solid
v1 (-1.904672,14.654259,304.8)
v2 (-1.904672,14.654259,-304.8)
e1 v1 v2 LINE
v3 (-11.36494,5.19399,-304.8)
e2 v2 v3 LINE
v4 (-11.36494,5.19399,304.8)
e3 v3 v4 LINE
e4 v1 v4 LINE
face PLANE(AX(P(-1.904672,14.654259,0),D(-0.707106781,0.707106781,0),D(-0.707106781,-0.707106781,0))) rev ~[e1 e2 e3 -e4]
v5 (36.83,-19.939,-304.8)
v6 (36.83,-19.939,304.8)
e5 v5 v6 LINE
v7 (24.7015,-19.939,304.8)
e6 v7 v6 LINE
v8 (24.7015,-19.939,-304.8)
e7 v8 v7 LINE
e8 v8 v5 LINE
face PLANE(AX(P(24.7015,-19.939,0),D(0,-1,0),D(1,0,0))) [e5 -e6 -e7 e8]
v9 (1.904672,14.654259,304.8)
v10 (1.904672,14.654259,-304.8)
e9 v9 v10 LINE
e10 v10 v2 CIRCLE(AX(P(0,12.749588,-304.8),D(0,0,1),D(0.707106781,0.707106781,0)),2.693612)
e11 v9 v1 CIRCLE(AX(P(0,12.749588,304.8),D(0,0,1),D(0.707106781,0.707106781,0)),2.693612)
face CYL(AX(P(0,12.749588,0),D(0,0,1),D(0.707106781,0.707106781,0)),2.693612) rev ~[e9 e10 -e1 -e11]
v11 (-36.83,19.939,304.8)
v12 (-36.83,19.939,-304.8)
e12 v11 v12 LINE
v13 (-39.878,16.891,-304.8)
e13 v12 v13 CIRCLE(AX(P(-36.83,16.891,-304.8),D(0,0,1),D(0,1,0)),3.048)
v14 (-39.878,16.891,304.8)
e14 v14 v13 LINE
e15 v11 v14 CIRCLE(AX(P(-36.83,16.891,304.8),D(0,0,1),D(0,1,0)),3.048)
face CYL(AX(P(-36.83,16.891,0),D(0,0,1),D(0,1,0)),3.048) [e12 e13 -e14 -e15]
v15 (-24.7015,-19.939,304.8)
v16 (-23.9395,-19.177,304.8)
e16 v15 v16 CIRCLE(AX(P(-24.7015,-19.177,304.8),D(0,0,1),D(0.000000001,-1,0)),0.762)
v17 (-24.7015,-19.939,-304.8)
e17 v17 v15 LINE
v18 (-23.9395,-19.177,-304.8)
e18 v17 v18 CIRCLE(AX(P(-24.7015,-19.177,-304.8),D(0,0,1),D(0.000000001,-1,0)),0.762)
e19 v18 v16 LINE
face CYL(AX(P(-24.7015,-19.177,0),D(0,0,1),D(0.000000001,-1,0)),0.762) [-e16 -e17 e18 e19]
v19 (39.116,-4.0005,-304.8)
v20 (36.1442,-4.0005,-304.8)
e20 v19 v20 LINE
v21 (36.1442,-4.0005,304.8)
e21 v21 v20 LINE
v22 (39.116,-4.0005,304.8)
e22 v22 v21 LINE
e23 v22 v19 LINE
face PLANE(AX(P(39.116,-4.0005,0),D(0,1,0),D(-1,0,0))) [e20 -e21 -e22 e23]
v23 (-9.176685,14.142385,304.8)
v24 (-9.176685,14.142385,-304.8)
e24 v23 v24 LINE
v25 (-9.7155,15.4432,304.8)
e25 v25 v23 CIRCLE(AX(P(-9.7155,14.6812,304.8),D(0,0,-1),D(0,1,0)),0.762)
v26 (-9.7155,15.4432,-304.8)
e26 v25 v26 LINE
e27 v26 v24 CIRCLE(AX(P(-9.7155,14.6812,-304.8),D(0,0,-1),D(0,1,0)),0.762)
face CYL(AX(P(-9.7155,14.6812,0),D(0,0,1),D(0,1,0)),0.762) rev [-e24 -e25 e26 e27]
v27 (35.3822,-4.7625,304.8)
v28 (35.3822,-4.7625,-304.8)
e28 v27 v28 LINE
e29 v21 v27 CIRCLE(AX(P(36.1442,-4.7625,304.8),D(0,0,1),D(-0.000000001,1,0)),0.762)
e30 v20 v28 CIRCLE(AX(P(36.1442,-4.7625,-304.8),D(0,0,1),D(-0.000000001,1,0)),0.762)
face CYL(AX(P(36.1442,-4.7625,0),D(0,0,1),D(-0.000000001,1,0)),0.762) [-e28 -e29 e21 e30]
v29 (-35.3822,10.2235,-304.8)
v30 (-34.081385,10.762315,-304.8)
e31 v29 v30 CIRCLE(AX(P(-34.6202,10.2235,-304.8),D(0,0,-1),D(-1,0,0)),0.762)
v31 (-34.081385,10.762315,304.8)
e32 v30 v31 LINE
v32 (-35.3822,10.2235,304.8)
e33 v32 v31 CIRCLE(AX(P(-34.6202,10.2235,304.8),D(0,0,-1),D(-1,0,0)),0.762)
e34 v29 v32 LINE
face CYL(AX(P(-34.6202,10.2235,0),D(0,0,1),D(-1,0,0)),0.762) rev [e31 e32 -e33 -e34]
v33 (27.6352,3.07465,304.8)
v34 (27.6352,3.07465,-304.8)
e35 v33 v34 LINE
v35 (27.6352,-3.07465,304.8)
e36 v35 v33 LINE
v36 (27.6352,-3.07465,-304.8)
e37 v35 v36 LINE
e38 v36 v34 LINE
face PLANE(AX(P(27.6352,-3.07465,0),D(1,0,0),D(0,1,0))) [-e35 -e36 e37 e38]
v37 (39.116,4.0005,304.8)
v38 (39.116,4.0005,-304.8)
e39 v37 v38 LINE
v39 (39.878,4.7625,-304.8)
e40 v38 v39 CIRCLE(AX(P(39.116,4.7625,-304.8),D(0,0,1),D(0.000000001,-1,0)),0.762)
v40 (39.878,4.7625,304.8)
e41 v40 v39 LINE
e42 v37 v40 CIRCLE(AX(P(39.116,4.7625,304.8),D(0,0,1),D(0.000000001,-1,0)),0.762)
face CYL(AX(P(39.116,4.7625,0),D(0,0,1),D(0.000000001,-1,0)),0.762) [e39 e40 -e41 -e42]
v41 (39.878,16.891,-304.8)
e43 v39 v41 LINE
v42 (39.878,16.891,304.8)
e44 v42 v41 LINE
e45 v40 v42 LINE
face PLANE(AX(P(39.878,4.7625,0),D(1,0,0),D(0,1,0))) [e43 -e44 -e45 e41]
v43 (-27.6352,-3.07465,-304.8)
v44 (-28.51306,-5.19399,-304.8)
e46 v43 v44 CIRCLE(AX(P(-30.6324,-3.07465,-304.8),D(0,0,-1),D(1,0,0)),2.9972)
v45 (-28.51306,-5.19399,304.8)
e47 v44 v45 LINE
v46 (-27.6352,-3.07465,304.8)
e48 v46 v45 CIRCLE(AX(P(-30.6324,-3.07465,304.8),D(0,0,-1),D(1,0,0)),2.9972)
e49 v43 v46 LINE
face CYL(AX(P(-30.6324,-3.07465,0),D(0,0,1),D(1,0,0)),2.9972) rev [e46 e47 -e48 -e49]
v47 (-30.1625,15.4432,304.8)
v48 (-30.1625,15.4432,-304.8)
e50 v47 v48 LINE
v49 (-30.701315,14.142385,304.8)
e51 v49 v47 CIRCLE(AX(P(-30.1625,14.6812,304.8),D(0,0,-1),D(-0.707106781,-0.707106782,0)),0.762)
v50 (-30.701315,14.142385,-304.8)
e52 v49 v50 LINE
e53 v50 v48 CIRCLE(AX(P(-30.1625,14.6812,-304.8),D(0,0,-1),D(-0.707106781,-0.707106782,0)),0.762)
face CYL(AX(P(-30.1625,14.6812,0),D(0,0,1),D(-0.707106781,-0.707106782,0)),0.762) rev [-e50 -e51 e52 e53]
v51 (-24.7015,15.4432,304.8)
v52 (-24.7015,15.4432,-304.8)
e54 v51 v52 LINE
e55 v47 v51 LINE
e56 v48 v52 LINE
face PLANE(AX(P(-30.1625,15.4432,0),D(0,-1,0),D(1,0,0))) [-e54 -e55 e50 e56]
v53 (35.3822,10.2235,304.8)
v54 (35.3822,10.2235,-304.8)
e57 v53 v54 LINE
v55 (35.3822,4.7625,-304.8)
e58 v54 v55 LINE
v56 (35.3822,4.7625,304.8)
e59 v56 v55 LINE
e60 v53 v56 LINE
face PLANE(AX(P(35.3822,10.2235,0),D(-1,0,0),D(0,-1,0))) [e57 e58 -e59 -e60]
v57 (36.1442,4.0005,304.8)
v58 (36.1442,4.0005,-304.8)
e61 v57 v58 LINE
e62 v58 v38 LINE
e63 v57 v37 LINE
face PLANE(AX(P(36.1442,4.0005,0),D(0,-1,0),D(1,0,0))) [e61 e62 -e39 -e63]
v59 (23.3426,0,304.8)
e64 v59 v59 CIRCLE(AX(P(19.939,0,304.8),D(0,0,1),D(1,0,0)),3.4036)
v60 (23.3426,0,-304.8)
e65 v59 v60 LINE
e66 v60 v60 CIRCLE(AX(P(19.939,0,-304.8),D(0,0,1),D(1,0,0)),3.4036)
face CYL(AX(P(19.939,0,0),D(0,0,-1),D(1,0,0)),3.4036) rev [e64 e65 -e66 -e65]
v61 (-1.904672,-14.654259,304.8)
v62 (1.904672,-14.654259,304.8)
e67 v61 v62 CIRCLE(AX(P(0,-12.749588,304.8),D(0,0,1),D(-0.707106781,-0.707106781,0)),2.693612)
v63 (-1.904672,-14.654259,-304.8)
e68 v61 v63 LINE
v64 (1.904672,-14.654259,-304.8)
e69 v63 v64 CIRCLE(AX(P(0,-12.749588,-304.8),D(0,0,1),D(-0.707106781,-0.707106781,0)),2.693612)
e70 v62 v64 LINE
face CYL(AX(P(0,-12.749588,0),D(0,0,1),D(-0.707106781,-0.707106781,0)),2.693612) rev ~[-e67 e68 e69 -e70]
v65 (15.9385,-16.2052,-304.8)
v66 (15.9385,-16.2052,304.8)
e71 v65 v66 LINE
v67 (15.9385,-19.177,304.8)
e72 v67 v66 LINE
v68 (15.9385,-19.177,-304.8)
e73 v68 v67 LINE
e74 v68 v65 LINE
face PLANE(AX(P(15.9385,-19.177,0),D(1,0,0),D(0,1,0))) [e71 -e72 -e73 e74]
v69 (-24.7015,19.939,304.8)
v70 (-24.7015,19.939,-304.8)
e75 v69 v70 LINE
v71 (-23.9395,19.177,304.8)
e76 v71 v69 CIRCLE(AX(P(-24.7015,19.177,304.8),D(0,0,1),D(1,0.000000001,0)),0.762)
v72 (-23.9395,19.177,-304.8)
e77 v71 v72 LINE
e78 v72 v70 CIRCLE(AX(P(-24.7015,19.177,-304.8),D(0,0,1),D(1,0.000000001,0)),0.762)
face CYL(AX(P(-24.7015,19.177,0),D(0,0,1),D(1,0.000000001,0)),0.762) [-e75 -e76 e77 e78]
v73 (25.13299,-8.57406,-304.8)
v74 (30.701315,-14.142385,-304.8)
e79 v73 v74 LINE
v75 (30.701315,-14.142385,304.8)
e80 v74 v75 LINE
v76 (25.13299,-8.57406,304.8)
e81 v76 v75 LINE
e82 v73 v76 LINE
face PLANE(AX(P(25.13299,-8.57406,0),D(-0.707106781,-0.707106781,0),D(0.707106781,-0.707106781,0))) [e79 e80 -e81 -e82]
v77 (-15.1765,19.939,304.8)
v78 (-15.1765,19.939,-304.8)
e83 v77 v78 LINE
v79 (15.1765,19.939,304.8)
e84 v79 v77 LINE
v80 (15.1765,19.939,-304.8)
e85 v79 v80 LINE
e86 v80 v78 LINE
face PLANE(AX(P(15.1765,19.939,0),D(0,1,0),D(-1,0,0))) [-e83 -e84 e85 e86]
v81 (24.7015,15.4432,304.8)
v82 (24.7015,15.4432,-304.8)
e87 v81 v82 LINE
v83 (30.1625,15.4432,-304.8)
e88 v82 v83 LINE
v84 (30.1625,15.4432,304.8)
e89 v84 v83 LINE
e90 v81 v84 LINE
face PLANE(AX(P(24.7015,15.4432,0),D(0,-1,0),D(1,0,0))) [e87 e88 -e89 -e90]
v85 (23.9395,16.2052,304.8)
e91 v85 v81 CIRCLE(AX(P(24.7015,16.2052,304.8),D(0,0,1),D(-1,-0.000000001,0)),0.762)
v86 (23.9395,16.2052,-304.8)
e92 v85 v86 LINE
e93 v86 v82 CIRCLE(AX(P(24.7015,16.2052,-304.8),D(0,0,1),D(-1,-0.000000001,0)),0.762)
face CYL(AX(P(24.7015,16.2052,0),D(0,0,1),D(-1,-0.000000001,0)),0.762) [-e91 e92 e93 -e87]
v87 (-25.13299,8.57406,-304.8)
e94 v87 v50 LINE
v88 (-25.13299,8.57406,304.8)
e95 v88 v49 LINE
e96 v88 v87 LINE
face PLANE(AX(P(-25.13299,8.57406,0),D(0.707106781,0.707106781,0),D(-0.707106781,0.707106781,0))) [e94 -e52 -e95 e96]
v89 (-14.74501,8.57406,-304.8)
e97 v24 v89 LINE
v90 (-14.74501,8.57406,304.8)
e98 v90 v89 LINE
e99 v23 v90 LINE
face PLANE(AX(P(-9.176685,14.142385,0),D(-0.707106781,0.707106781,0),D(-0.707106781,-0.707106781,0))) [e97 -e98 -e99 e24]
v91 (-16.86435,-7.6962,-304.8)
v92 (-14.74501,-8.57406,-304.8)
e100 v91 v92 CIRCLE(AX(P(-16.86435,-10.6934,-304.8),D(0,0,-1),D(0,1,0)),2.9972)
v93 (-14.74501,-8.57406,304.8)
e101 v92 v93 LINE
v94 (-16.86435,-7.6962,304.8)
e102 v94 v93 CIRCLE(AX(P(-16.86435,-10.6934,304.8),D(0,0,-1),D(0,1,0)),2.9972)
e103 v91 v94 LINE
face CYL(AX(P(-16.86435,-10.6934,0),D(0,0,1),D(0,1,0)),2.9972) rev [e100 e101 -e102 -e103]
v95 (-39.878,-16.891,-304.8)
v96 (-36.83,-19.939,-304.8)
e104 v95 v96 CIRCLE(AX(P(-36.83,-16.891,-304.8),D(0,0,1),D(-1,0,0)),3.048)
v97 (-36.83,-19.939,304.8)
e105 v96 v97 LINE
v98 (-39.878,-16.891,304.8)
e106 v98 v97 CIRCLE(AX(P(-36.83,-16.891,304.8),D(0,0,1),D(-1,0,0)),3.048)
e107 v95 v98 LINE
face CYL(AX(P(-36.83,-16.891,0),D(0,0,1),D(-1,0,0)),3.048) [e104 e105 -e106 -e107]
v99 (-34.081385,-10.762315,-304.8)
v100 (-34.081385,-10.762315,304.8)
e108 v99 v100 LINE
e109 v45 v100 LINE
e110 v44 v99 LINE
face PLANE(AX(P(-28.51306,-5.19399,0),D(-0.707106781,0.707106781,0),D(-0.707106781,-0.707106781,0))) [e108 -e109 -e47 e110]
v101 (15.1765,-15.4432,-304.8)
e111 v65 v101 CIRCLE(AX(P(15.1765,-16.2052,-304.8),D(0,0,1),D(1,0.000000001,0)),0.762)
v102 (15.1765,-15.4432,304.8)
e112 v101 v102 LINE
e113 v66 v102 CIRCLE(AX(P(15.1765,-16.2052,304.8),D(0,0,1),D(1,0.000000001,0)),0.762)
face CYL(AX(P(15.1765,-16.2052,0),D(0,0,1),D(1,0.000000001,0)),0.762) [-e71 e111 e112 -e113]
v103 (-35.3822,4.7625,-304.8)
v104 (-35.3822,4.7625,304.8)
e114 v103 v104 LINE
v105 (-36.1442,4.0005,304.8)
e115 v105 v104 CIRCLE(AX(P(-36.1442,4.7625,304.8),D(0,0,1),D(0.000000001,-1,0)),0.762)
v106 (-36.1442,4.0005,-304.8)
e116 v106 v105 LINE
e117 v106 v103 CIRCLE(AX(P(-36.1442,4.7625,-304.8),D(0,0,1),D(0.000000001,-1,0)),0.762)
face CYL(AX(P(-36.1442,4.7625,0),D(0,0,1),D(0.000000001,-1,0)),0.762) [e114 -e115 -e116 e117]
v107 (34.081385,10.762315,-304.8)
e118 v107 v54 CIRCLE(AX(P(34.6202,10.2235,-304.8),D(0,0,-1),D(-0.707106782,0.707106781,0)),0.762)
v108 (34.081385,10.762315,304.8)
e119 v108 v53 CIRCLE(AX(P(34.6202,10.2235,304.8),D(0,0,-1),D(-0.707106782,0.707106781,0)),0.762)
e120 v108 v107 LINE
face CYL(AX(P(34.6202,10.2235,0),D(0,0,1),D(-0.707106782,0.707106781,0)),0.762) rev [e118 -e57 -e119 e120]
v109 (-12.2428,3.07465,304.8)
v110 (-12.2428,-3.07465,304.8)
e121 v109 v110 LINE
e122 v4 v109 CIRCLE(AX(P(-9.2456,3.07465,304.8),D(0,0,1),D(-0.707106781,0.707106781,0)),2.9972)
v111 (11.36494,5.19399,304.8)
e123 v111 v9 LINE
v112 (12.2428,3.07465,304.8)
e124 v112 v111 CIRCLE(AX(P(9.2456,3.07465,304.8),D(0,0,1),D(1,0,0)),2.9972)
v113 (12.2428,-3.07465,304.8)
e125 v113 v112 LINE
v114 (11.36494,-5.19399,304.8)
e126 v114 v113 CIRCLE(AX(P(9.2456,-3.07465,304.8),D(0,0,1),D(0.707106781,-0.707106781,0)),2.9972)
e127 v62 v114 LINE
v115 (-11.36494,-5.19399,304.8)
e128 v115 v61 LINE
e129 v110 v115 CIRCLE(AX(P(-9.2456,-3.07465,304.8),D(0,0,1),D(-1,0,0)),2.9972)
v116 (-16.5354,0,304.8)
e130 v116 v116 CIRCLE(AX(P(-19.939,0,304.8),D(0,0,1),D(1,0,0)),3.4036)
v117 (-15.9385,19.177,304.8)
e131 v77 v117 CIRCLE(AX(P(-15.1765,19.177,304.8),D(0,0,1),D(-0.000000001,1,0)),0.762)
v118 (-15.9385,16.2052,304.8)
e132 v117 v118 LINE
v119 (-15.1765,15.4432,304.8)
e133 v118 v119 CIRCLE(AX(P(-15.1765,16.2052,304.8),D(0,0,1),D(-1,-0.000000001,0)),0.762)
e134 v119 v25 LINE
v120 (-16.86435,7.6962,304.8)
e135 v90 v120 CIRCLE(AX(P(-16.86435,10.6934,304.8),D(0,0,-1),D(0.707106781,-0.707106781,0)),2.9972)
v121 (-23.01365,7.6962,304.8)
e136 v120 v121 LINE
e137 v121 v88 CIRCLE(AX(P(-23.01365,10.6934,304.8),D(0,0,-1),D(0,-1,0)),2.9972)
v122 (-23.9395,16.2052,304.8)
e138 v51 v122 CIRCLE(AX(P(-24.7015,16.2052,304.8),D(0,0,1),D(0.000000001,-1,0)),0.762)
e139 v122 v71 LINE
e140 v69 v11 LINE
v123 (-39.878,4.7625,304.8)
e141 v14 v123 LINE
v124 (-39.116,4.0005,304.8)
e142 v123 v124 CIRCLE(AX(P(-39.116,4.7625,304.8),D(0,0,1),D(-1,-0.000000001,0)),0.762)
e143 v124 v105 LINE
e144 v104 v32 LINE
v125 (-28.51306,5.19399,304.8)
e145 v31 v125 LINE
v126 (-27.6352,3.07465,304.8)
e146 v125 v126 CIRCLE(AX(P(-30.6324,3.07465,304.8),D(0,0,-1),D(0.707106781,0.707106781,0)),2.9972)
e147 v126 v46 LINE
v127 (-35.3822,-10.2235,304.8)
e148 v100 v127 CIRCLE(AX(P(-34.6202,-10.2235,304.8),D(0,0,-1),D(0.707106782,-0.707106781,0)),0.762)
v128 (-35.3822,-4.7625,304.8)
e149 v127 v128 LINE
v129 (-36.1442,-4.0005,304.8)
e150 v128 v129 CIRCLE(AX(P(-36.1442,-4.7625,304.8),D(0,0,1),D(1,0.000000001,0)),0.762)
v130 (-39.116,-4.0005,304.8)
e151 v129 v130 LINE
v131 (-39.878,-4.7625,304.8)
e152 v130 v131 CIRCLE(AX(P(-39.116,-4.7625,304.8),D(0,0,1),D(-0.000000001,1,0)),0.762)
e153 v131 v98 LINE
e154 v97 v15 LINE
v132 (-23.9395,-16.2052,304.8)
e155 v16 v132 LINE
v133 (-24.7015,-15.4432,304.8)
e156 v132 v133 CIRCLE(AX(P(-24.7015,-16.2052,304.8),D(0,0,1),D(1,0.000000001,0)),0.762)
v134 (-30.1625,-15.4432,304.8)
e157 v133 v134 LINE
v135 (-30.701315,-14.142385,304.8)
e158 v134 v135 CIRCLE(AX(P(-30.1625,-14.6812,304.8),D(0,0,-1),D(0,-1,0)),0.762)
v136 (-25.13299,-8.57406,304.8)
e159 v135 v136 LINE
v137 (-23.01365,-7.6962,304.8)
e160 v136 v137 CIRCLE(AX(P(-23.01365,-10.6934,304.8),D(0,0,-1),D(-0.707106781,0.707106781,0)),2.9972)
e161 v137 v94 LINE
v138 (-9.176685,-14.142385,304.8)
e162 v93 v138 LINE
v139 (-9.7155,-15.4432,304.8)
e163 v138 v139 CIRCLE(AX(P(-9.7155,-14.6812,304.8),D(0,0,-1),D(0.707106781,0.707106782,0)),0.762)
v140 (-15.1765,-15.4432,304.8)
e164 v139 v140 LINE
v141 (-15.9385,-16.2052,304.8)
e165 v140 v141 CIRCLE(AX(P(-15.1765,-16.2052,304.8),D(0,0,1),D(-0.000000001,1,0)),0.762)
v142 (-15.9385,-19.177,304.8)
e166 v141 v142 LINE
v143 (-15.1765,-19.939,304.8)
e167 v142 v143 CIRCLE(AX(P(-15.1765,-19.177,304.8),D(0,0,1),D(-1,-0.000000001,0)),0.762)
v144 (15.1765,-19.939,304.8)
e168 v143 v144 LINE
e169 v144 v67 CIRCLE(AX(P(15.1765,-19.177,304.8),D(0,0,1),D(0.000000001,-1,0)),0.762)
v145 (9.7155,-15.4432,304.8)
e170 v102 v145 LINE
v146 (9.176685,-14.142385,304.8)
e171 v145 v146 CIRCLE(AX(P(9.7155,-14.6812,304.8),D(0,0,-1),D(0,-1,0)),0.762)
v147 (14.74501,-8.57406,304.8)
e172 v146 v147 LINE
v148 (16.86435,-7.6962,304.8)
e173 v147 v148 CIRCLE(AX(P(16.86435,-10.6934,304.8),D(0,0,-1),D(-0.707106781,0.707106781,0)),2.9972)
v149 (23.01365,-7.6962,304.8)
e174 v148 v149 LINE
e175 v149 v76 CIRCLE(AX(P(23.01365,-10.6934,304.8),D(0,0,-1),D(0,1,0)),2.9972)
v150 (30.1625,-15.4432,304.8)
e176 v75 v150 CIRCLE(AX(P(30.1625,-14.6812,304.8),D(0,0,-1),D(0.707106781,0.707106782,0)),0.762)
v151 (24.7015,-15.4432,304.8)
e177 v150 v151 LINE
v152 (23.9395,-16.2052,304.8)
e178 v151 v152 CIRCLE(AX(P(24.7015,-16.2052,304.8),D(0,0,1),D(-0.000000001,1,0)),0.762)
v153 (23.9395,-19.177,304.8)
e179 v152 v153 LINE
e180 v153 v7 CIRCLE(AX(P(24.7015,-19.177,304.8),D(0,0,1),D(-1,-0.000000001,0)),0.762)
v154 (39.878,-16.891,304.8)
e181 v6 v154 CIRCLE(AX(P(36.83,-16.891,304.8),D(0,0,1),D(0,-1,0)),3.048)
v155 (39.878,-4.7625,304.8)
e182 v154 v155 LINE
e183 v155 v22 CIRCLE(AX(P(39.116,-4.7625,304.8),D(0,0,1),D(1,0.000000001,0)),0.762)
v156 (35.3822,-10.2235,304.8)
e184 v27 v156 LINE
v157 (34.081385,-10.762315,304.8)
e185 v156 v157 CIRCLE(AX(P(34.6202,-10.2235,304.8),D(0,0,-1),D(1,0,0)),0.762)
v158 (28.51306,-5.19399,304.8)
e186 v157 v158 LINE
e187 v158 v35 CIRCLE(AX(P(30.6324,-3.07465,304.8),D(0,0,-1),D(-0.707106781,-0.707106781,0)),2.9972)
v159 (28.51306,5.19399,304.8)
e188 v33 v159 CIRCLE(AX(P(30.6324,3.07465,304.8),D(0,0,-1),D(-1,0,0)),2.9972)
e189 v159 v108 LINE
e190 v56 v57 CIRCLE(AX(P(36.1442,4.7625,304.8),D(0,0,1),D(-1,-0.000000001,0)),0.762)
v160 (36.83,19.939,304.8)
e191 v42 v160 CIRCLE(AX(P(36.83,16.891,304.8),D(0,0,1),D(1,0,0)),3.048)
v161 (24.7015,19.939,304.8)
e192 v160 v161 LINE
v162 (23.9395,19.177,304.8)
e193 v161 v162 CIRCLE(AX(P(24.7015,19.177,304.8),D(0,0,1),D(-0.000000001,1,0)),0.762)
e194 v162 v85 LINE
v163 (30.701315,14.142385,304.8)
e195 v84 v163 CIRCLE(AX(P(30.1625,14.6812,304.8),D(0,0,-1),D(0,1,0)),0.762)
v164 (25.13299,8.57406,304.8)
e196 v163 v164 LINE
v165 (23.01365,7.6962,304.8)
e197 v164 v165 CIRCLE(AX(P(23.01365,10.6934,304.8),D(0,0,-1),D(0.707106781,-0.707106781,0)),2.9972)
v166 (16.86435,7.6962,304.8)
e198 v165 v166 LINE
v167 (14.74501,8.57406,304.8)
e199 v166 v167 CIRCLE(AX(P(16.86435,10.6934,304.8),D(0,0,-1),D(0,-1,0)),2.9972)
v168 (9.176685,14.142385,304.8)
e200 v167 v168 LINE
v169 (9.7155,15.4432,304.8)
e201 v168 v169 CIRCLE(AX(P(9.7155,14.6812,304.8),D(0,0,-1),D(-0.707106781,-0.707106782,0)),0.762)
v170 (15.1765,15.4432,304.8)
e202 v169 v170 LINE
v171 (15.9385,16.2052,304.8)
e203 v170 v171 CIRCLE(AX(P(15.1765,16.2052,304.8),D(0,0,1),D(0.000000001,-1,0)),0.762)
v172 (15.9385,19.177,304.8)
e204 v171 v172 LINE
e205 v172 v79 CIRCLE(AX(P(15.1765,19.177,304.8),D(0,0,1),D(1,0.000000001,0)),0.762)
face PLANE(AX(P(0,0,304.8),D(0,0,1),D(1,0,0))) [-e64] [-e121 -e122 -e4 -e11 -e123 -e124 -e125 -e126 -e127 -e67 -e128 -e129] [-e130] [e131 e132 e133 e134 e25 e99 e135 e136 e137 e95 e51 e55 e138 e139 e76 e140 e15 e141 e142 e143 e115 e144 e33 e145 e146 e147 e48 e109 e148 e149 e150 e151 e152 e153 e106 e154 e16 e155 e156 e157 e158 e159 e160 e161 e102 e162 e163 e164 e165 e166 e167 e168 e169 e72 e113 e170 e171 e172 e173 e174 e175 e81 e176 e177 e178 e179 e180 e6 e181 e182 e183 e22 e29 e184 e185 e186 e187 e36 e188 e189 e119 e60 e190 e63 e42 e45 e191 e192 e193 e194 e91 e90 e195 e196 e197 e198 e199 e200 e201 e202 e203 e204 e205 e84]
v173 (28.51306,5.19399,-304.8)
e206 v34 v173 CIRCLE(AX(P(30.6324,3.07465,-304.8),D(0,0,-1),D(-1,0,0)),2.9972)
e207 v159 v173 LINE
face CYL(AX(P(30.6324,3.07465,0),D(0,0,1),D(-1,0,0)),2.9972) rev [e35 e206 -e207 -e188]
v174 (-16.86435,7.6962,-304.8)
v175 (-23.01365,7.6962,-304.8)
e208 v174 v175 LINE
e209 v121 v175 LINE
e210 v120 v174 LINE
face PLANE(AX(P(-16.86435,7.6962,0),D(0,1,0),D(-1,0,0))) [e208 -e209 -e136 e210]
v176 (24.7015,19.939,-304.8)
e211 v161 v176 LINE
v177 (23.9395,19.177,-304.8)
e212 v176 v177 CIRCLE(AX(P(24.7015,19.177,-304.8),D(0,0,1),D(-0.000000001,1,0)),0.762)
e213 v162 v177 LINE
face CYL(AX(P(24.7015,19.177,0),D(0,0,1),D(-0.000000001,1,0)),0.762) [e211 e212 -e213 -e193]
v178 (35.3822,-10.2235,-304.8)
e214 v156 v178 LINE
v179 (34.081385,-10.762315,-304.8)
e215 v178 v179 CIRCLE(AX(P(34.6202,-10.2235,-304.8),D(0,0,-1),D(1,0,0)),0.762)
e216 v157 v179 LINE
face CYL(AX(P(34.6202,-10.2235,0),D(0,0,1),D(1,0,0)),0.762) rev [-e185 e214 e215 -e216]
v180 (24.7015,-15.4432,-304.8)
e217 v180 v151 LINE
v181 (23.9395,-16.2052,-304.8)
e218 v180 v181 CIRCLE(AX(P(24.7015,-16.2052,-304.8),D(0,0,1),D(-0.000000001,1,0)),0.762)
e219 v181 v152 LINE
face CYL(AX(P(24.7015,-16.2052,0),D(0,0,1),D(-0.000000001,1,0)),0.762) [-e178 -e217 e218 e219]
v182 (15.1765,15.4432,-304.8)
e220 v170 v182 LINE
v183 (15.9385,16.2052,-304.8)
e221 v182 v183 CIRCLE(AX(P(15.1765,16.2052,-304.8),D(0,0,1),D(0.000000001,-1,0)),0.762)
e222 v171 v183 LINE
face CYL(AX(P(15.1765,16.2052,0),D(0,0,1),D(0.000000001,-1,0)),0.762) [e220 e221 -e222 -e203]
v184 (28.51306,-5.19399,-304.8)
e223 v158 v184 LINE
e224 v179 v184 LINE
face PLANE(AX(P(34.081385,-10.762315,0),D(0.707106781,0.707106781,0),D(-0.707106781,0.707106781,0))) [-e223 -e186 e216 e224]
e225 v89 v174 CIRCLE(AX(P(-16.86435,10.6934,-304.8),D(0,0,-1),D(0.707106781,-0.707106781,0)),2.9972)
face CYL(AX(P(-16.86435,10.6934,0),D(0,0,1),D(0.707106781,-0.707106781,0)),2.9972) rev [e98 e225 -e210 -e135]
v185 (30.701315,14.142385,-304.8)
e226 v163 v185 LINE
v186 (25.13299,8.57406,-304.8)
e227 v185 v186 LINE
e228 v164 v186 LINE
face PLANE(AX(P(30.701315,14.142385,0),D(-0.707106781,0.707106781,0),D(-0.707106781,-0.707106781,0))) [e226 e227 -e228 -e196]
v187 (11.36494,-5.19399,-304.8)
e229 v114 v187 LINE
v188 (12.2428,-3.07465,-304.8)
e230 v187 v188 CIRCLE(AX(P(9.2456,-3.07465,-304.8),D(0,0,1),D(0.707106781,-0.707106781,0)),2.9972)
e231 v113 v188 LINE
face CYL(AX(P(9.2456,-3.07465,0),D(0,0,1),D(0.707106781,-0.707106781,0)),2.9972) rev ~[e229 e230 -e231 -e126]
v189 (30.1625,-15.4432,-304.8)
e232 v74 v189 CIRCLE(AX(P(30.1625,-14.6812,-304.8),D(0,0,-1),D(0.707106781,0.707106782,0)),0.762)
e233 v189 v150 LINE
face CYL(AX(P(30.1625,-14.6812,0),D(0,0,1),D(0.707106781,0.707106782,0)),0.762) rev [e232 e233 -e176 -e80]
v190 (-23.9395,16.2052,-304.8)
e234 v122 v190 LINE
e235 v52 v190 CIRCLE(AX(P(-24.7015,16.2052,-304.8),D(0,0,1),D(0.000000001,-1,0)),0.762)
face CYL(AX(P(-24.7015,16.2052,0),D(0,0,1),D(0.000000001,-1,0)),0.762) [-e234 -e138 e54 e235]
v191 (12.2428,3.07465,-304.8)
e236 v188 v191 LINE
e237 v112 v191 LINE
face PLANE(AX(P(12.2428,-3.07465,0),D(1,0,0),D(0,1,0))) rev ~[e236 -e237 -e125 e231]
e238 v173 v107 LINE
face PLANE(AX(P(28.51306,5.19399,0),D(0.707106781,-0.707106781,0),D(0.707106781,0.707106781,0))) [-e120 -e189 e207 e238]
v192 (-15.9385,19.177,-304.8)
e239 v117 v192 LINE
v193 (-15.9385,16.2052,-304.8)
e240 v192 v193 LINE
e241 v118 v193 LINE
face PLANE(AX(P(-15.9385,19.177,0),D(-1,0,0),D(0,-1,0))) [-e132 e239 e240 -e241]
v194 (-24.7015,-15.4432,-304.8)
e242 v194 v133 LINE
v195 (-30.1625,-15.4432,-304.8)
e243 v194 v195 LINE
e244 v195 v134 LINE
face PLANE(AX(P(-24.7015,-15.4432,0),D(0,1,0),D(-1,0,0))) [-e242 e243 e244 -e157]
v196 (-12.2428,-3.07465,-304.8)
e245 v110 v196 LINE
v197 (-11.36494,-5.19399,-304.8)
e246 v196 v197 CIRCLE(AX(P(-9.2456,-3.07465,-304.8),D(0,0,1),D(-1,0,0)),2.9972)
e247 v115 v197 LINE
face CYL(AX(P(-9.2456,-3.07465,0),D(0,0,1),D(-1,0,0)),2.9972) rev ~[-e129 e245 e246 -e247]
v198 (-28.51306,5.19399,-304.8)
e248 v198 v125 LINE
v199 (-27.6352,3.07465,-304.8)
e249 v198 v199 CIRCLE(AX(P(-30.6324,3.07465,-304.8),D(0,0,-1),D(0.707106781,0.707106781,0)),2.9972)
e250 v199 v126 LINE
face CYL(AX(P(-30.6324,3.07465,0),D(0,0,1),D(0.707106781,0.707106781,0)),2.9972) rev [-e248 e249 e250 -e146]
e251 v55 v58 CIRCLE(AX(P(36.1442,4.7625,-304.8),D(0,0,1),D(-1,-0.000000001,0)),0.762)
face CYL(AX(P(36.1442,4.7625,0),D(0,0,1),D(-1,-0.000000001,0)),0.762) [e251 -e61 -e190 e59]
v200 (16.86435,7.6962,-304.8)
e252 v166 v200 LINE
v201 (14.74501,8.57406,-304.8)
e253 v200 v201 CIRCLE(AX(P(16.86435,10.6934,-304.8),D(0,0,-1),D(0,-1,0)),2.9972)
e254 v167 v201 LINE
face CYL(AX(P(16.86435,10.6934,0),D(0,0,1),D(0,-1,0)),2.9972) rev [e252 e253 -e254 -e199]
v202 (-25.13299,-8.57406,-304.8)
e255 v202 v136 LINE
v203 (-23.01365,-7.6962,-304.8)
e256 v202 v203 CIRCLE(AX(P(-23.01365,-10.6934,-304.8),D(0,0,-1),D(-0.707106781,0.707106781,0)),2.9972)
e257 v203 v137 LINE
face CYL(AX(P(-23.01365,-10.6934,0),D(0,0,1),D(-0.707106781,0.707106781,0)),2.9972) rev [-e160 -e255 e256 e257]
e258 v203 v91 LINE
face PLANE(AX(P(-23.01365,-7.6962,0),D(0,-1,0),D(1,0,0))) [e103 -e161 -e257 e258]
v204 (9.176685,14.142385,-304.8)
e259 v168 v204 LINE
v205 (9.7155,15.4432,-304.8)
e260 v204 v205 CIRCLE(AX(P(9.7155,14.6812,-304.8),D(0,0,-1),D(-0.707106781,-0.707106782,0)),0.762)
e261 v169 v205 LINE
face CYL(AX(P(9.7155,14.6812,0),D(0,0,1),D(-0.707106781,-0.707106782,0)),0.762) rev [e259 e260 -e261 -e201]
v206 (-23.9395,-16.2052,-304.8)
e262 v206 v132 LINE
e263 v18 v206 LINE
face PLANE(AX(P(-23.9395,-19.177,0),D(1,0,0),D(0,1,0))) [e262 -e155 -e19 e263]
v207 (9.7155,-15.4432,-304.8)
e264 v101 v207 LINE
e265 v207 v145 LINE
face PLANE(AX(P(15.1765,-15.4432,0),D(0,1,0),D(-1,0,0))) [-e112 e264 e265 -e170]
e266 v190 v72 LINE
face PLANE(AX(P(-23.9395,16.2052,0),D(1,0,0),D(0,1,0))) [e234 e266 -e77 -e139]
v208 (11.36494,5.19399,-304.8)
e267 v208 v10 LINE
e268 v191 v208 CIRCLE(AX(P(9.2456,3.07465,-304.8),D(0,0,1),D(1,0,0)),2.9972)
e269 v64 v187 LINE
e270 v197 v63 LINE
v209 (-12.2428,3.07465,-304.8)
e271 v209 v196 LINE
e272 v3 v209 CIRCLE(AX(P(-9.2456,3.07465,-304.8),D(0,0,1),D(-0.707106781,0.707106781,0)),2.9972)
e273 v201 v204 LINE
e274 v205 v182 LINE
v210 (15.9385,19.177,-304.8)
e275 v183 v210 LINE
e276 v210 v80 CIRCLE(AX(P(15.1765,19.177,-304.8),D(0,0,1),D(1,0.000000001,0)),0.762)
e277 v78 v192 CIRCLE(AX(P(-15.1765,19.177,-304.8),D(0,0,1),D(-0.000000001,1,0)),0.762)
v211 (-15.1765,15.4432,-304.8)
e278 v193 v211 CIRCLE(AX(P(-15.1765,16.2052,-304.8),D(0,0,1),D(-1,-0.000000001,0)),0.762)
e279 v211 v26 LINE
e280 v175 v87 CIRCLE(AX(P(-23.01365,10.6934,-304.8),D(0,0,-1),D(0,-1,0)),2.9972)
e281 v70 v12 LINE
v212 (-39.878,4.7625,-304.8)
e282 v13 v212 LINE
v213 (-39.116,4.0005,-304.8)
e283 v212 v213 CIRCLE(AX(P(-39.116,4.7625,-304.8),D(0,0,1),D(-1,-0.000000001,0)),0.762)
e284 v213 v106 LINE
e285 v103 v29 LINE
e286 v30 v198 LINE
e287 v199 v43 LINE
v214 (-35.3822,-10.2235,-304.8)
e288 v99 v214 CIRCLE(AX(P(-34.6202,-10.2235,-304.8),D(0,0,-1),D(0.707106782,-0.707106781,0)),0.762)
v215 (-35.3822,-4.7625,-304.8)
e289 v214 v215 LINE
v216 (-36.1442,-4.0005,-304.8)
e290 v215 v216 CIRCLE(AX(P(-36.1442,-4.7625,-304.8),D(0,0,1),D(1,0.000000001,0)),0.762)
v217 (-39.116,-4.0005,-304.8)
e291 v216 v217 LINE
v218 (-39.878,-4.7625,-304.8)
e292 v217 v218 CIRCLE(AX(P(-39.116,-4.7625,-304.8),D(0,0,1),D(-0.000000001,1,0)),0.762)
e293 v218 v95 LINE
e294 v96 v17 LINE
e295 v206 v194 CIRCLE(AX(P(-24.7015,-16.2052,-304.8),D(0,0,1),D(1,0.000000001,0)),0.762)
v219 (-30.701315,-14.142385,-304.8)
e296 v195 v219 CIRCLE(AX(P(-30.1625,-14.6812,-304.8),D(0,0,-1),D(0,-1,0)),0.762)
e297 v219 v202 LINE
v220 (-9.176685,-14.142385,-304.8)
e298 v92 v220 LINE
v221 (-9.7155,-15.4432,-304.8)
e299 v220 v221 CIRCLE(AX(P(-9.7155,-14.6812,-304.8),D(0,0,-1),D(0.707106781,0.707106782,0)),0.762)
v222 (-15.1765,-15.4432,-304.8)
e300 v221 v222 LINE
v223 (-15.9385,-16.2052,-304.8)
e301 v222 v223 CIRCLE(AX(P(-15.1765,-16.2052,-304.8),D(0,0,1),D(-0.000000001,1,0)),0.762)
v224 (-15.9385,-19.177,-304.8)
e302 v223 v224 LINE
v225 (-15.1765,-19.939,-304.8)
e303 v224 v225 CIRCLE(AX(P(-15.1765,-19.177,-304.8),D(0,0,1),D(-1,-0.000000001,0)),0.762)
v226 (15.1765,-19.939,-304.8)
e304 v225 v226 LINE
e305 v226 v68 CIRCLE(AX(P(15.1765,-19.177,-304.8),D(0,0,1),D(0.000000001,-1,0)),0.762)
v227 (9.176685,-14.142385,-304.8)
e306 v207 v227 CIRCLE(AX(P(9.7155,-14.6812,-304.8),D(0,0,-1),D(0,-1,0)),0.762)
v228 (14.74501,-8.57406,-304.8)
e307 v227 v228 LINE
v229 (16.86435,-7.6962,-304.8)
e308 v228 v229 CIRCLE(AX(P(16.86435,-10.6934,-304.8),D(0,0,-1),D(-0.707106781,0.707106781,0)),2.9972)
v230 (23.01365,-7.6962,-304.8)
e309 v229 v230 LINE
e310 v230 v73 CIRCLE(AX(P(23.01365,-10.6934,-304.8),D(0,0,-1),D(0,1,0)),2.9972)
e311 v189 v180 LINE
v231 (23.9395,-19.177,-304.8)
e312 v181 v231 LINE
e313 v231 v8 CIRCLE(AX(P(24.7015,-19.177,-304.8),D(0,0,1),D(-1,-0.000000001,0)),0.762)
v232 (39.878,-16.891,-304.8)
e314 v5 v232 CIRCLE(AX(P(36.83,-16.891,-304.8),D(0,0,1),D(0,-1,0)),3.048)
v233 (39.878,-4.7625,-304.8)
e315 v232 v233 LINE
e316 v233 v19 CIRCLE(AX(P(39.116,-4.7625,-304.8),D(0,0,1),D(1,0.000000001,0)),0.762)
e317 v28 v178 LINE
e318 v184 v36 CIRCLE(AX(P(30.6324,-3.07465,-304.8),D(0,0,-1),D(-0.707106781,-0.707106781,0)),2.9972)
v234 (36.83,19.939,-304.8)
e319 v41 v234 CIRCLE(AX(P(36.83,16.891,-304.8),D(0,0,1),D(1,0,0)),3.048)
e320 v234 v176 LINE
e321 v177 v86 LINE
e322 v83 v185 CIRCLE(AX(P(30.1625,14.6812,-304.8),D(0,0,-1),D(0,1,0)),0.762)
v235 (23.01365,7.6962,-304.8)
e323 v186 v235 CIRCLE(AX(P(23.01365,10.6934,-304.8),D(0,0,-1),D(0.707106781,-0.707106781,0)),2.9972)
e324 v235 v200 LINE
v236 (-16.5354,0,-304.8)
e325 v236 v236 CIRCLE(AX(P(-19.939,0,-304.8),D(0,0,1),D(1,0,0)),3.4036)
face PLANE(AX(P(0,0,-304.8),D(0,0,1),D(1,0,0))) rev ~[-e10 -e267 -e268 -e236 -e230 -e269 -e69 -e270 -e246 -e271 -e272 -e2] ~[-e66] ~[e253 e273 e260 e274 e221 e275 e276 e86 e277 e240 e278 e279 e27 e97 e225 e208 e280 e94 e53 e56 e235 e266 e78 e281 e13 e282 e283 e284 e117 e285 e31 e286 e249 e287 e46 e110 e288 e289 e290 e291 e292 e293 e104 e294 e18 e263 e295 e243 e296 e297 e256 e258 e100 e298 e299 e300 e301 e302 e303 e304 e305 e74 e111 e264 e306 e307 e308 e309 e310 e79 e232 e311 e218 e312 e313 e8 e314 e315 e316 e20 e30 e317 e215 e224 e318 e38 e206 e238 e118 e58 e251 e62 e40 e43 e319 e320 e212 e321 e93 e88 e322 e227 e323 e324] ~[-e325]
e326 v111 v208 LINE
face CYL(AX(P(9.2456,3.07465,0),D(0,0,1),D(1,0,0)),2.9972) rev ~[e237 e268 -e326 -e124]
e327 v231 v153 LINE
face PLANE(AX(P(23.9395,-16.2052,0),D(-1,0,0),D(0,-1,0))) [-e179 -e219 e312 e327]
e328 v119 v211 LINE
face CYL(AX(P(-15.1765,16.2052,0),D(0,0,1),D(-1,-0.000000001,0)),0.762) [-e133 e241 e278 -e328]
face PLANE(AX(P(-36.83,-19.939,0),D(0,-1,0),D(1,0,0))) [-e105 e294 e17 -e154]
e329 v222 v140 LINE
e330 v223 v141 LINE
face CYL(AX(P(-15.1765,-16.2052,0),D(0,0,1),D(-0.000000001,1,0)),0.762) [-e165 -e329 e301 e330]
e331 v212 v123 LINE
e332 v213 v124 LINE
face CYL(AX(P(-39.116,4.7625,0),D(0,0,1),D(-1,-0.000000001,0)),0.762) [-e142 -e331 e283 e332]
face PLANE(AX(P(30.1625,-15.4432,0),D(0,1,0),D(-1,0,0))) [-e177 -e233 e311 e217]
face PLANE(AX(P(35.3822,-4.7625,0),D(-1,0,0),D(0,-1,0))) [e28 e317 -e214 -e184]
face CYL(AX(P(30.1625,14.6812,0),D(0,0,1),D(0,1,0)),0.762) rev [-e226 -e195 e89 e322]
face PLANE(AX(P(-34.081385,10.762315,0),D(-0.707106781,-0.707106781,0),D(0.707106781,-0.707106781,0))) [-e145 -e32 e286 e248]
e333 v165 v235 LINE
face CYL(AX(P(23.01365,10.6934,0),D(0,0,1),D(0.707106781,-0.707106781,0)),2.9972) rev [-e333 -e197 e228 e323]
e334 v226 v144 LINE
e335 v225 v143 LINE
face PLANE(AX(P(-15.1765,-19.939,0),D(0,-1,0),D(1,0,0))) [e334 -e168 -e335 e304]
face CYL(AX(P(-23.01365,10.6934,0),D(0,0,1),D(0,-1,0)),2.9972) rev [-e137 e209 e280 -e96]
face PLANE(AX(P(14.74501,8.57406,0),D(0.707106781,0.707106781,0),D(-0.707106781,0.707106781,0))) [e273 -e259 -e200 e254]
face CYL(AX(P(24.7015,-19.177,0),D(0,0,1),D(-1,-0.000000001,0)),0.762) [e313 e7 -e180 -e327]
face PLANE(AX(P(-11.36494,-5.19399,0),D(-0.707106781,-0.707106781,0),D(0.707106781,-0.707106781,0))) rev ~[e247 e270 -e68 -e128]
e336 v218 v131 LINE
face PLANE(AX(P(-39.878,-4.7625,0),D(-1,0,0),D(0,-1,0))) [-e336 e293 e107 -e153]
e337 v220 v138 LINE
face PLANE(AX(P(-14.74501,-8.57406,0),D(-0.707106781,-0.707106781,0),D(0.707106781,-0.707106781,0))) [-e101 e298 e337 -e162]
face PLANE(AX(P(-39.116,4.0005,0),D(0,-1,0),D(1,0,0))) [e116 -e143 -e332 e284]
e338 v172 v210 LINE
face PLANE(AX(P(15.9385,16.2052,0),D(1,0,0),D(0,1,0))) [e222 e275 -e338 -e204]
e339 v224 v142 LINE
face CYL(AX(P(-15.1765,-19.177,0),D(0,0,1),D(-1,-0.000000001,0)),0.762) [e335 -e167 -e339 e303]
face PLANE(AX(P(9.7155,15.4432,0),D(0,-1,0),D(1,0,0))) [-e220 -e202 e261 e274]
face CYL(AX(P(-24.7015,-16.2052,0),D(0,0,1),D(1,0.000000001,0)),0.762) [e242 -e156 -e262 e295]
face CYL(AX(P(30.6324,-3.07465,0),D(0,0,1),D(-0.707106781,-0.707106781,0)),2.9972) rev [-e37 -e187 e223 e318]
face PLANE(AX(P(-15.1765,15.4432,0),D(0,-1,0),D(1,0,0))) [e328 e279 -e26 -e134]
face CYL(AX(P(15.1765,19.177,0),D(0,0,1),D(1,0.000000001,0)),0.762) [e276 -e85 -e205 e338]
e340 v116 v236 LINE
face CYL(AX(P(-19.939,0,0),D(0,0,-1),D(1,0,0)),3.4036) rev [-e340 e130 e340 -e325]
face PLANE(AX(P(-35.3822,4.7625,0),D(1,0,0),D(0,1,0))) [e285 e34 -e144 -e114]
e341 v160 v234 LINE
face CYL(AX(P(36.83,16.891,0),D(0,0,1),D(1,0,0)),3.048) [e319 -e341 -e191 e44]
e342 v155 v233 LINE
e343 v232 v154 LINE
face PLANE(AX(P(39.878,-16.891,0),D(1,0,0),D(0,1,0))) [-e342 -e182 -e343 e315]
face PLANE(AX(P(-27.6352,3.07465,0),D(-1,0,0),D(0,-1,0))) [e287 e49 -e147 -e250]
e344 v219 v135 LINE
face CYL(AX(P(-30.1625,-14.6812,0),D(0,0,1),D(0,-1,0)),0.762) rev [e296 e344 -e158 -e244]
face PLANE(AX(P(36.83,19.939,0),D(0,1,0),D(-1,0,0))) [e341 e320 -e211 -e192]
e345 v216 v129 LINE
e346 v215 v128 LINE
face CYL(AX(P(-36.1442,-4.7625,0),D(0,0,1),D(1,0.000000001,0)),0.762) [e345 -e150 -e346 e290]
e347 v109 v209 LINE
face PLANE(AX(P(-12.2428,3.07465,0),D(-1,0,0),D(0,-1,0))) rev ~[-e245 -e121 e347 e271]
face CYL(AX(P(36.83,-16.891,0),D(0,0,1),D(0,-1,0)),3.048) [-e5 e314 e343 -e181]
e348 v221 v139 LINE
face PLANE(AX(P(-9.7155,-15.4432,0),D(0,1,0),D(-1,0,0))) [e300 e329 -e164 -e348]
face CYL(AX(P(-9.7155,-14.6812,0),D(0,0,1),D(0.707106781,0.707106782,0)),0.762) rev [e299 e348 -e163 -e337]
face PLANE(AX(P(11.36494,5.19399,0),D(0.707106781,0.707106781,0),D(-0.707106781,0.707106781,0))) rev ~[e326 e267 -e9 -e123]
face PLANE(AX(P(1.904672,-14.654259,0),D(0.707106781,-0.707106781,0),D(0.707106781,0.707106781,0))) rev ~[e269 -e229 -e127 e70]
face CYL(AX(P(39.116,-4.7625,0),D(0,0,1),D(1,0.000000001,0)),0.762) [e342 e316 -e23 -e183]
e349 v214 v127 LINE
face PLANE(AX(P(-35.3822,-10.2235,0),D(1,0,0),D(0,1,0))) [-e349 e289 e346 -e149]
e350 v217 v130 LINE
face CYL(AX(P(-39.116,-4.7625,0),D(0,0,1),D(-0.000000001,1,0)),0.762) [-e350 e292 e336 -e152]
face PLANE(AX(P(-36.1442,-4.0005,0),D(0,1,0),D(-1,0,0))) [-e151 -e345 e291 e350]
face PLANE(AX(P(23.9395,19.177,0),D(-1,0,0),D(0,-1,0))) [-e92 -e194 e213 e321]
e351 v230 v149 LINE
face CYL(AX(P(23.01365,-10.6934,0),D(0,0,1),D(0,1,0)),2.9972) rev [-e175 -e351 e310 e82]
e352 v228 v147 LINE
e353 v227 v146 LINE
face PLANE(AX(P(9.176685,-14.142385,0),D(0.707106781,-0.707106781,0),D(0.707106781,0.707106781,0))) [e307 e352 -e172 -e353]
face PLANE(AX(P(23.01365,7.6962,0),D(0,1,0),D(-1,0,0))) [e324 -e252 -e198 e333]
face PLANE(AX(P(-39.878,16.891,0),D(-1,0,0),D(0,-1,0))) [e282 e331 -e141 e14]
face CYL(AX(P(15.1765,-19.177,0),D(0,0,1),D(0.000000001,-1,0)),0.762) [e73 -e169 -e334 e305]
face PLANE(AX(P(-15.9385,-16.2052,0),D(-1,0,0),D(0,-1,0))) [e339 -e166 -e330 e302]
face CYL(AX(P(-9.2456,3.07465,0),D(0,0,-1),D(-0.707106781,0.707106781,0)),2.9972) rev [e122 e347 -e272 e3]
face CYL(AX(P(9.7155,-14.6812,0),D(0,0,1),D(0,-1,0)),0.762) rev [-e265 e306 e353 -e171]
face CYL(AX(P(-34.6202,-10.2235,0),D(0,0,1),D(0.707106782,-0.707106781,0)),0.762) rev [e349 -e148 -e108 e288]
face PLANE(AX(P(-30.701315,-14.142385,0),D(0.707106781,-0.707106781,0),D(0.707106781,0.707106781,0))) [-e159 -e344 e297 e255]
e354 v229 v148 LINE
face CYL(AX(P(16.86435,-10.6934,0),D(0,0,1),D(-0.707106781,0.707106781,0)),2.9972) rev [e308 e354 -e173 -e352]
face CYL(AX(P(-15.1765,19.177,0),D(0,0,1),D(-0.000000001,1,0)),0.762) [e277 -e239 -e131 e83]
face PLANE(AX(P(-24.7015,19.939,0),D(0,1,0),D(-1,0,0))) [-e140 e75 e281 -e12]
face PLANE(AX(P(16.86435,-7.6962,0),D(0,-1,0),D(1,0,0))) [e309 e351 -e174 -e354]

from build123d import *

# Parameters (mm, degrees)
SKETCH1_R           = 3.4036
BOSS_EXTRUDE1_DEPTH = 304.8


with BuildPart() as part:
    # Sketch1 → Boss-Extrude1 (new body, symmetric)
    with BuildSketch(Plane.XY):
        with BuildLine():
            Line((-39.878, 16.891), (-39.878, 4.7625))
            ThreePointArc((-39.878, 4.7625), (-39.654815367, 4.223684633), (-39.116, 4.0005))
            Line((-39.116, 4.0005), (-36.1442, 4.0005))
            ThreePointArc((-36.1442, 4.0005), (-35.605384633, 4.223684633), (-35.3822, 4.7625))
            Line((-35.3822, 4.7625), (-35.3822, 10.2235))
            ThreePointArc((-35.3822, 10.2235), (-34.911804775, 10.927496204), (-34.081384633, 10.762315367))
            Line((-34.081384633, 10.762315367), (-28.513059555, 5.19399029))
            ThreePointArc((-28.513059555, 5.19399029), (-27.863348265, 4.221628629), (-27.6352, 3.074649845))
            Line((-27.6352, 3.074649845), (-27.6352, -3.074649845))
            ThreePointArc((-27.6352, -3.074649845), (-27.863348265, -4.221628629), (-28.513059555, -5.19399029))
            Line((-28.513059555, -5.19399029), (-34.081384633, -10.762315367))
            ThreePointArc((-34.081384633, -10.762315367), (-34.911804775, -10.927496204), (-35.3822, -10.2235))
            Line((-35.3822, -10.2235), (-35.3822, -4.7625))
            ThreePointArc((-35.3822, -4.7625), (-35.605384633, -4.223684633), (-36.1442, -4.0005))
            Line((-36.1442, -4.0005), (-39.116, -4.0005))
            ThreePointArc((-39.116, -4.0005), (-39.654815367, -4.223684633), (-39.878, -4.7625))
            Line((-39.878, -4.7625), (-39.878, -16.891))
            ThreePointArc((-39.878, -16.891), (-38.985261469, -19.046261469), (-36.83, -19.939))
            Line((-36.83, -19.939), (-24.7015, -19.939))
            ThreePointArc((-24.7015, -19.939), (-24.162684633, -19.715815367), (-23.9395, -19.177))
            Line((-23.9395, -19.177), (-23.9395, -16.2052))
            ThreePointArc((-23.9395, -16.2052), (-24.162684633, -15.666384633), (-24.7015, -15.4432))
            Line((-24.7015, -15.4432), (-30.1625, -15.4432))
            ThreePointArc((-30.1625, -15.4432), (-30.866496204, -14.972804775), (-30.701315367, -14.142384633))
            Line((-30.701315367, -14.142384633), (-25.13299029, -8.574059555))
            ThreePointArc((-25.13299029, -8.574059555), (-24.160628629, -7.924348265), (-23.013649845, -7.6962))
            Line((-23.013649845, -7.6962), (-16.864350155, -7.6962))
            ThreePointArc((-16.864350155, -7.6962), (-15.717371371, -7.924348265), (-14.74500971, -8.574059555))
            Line((-14.74500971, -8.574059555), (-9.176684633, -14.142384633))
            ThreePointArc((-9.176684633, -14.142384633), (-9.011503796, -14.972804775), (-9.7155, -15.4432))
            Line((-9.7155, -15.4432), (-15.1765, -15.4432))
            ThreePointArc((-15.1765, -15.4432), (-15.715315367, -15.666384633), (-15.9385, -16.2052))
            Line((-15.9385, -16.2052), (-15.9385, -19.177))
            ThreePointArc((-15.9385, -19.177), (-15.715315367, -19.715815367), (-15.1765, -19.939))
            Line((-15.1765, -19.939), (15.1765, -19.939))
            ThreePointArc((15.1765, -19.939), (15.715315367, -19.715815367), (15.9385, -19.177))
            Line((15.9385, -19.177), (15.9385, -16.2052))
            ThreePointArc((15.9385, -16.2052), (15.715315367, -15.666384633), (15.1765, -15.4432))
            Line((15.1765, -15.4432), (9.7155, -15.4432))
            ThreePointArc((9.7155, -15.4432), (9.011503796, -14.972804775), (9.176684633, -14.142384633))
            Line((9.176684633, -14.142384633), (14.74500971, -8.574059555))
            ThreePointArc((14.74500971, -8.574059555), (15.717371371, -7.924348265), (16.864350155, -7.6962))
            Line((16.864350155, -7.6962), (23.013649845, -7.6962))
            ThreePointArc((23.013649845, -7.6962), (24.160628629, -7.924348265), (25.13299029, -8.574059555))
            Line((25.13299029, -8.574059555), (30.701315367, -14.142384633))
            ThreePointArc((30.701315367, -14.142384633), (30.866496204, -14.972804775), (30.1625, -15.4432))
            Line((30.1625, -15.4432), (24.7015, -15.4432))
            ThreePointArc((24.7015, -15.4432), (24.162684633, -15.666384633), (23.9395, -16.2052))
            Line((23.9395, -16.2052), (23.9395, -19.177))
            ThreePointArc((23.9395, -19.177), (24.162684633, -19.715815367), (24.7015, -19.939))
            Line((24.7015, -19.939), (36.83, -19.939))
            ThreePointArc((36.83, -19.939), (38.985261469, -19.046261469), (39.878, -16.891))
            Line((39.878, -16.891), (39.878, -4.7625))
            ThreePointArc((39.878, -4.7625), (39.654815367, -4.223684633), (39.116, -4.0005))
            Line((39.116, -4.0005), (36.1442, -4.0005))
            ThreePointArc((36.1442, -4.0005), (35.605384633, -4.223684633), (35.3822, -4.7625))
            Line((35.3822, -4.7625), (35.3822, -10.2235))
            ThreePointArc((35.3822, -10.2235), (34.911804775, -10.927496204), (34.081384633, -10.762315367))
            Line((34.081384633, -10.762315367), (28.513059555, -5.19399029))
            ThreePointArc((28.513059555, -5.19399029), (27.863348265, -4.221628629), (27.6352, -3.074649845))
            Line((27.6352, -3.074649845), (27.6352, 3.074649845))
            ThreePointArc((27.6352, 3.074649845), (27.863348265, 4.221628629), (28.513059555, 5.19399029))
            Line((28.513059555, 5.19399029), (34.081384633, 10.762315367))
            ThreePointArc((34.081384633, 10.762315367), (34.911804775, 10.927496204), (35.3822, 10.2235))
            Line((35.3822, 10.2235), (35.3822, 4.7625))
            ThreePointArc((35.3822, 4.7625), (35.605384633, 4.223684633), (36.1442, 4.0005))
            Line((36.1442, 4.0005), (39.116, 4.0005))
            ThreePointArc((39.116, 4.0005), (39.654815367, 4.223684633), (39.878, 4.7625))
            Line((39.878, 4.7625), (39.878, 16.891))
            ThreePointArc((39.878, 16.891), (38.985261469, 19.046261469), (36.83, 19.939))
            Line((36.83, 19.939), (24.7015, 19.939))
            ThreePointArc((24.7015, 19.939), (24.162684633, 19.715815367), (23.9395, 19.177))
            Line((23.9395, 19.177), (23.9395, 16.2052))
            ThreePointArc((23.9395, 16.2052), (24.162684633, 15.666384633), (24.7015, 15.4432))
            Line((24.7015, 15.4432), (30.1625, 15.4432))
            ThreePointArc((30.1625, 15.4432), (30.866496204, 14.972804775), (30.701315367, 14.142384633))
            Line((30.701315367, 14.142384633), (25.13299029, 8.574059555))
            ThreePointArc((25.13299029, 8.574059555), (24.160628629, 7.924348265), (23.013649845, 7.6962))
            Line((23.013649845, 7.6962), (16.864350155, 7.6962))
            ThreePointArc((16.864350155, 7.6962), (15.717371371, 7.924348265), (14.74500971, 8.574059555))
            Line((14.74500971, 8.574059555), (9.176684633, 14.142384633))
            ThreePointArc((9.176684633, 14.142384633), (9.011503796, 14.972804775), (9.7155, 15.4432))
            Line((9.7155, 15.4432), (15.1765, 15.4432))
            ThreePointArc((15.1765, 15.4432), (15.715315367, 15.666384633), (15.9385, 16.2052))
            Line((15.9385, 16.2052), (15.9385, 19.177))
            ThreePointArc((15.9385, 19.177), (15.715315367, 19.715815367), (15.1765, 19.939))
            Line((15.1765, 19.939), (-15.1765, 19.939))
            ThreePointArc((-15.1765, 19.939), (-15.715315367, 19.715815367), (-15.9385, 19.177))
            Line((-15.9385, 19.177), (-15.9385, 16.2052))
            ThreePointArc((-15.9385, 16.2052), (-15.715315367, 15.666384633), (-15.1765, 15.4432))
            Line((-15.1765, 15.4432), (-9.7155, 15.4432))
            ThreePointArc((-9.7155, 15.4432), (-9.011503796, 14.972804775), (-9.176684633, 14.142384633))
            Line((-9.176684633, 14.142384633), (-14.74500971, 8.574059555))
            ThreePointArc((-14.74500971, 8.574059555), (-15.717371371, 7.924348265), (-16.864350155, 7.6962))
            Line((-16.864350155, 7.6962), (-23.013649845, 7.6962))
            ThreePointArc((-23.013649845, 7.6962), (-24.160628629, 7.924348265), (-25.13299029, 8.574059555))
            Line((-25.13299029, 8.574059555), (-30.701315367, 14.142384633))
            ThreePointArc((-30.701315367, 14.142384633), (-30.866496204, 14.972804775), (-30.1625, 15.4432))
            Line((-30.1625, 15.4432), (-24.7015, 15.4432))
            ThreePointArc((-24.7015, 15.4432), (-24.162684633, 15.666384633), (-23.9395, 16.2052))
            Line((-23.9395, 16.2052), (-23.9395, 19.177))
            ThreePointArc((-23.9395, 19.177), (-24.162684633, 19.715815367), (-24.7015, 19.939))
            Line((-24.7015, 19.939), (-36.83, 19.939))
            ThreePointArc((-36.83, 19.939), (-38.985261469, 19.046261469), (-39.878, 16.891))
        make_face()
        with Locations((-19.939, 0)):
            Circle(SKETCH1_R, mode=Mode.SUBTRACT)
        with Locations((19.939, 0)):
            Circle(SKETCH1_R, mode=Mode.SUBTRACT)
        with BuildLine():
            Line((-12.2428, 3.074649845), (-12.2428, -3.074649845))
            ThreePointArc((-12.2428, -3.074649845), (-12.014651735, -4.221628629), (-11.364940445, -5.19399029))
            Line((-11.364940445, -5.19399029), (-1.904671503, -14.654259232))
            ThreePointArc((-1.904671503, -14.654259232), (0, -15.4432), (1.904671503, -14.654259232))
            Line((1.904671503, -14.654259232), (11.364940445, -5.19399029))
            ThreePointArc((11.364940445, -5.19399029), (12.014651735, -4.221628629), (12.2428, -3.074649845))
            Line((12.2428, -3.074649845), (12.2428, 3.074649845))
            ThreePointArc((12.2428, 3.074649845), (12.014651735, 4.221628629), (11.364940445, 5.19399029))
            Line((11.364940445, 5.19399029), (1.904671503, 14.654259232))
            ThreePointArc((1.904671503, 14.654259232), (0, 15.4432), (-1.904671503, 14.654259232))
            Line((-1.904671503, 14.654259232), (-11.364940445, 5.19399029))
            ThreePointArc((-11.364940445, 5.19399029), (-12.014651735, 4.221628629), (-12.2428, 3.074649845))
        make_face(mode=Mode.SUBTRACT)
    extrude(amount=BOSS_EXTRUDE1_DEPTH, both=True)


solid = part.part
